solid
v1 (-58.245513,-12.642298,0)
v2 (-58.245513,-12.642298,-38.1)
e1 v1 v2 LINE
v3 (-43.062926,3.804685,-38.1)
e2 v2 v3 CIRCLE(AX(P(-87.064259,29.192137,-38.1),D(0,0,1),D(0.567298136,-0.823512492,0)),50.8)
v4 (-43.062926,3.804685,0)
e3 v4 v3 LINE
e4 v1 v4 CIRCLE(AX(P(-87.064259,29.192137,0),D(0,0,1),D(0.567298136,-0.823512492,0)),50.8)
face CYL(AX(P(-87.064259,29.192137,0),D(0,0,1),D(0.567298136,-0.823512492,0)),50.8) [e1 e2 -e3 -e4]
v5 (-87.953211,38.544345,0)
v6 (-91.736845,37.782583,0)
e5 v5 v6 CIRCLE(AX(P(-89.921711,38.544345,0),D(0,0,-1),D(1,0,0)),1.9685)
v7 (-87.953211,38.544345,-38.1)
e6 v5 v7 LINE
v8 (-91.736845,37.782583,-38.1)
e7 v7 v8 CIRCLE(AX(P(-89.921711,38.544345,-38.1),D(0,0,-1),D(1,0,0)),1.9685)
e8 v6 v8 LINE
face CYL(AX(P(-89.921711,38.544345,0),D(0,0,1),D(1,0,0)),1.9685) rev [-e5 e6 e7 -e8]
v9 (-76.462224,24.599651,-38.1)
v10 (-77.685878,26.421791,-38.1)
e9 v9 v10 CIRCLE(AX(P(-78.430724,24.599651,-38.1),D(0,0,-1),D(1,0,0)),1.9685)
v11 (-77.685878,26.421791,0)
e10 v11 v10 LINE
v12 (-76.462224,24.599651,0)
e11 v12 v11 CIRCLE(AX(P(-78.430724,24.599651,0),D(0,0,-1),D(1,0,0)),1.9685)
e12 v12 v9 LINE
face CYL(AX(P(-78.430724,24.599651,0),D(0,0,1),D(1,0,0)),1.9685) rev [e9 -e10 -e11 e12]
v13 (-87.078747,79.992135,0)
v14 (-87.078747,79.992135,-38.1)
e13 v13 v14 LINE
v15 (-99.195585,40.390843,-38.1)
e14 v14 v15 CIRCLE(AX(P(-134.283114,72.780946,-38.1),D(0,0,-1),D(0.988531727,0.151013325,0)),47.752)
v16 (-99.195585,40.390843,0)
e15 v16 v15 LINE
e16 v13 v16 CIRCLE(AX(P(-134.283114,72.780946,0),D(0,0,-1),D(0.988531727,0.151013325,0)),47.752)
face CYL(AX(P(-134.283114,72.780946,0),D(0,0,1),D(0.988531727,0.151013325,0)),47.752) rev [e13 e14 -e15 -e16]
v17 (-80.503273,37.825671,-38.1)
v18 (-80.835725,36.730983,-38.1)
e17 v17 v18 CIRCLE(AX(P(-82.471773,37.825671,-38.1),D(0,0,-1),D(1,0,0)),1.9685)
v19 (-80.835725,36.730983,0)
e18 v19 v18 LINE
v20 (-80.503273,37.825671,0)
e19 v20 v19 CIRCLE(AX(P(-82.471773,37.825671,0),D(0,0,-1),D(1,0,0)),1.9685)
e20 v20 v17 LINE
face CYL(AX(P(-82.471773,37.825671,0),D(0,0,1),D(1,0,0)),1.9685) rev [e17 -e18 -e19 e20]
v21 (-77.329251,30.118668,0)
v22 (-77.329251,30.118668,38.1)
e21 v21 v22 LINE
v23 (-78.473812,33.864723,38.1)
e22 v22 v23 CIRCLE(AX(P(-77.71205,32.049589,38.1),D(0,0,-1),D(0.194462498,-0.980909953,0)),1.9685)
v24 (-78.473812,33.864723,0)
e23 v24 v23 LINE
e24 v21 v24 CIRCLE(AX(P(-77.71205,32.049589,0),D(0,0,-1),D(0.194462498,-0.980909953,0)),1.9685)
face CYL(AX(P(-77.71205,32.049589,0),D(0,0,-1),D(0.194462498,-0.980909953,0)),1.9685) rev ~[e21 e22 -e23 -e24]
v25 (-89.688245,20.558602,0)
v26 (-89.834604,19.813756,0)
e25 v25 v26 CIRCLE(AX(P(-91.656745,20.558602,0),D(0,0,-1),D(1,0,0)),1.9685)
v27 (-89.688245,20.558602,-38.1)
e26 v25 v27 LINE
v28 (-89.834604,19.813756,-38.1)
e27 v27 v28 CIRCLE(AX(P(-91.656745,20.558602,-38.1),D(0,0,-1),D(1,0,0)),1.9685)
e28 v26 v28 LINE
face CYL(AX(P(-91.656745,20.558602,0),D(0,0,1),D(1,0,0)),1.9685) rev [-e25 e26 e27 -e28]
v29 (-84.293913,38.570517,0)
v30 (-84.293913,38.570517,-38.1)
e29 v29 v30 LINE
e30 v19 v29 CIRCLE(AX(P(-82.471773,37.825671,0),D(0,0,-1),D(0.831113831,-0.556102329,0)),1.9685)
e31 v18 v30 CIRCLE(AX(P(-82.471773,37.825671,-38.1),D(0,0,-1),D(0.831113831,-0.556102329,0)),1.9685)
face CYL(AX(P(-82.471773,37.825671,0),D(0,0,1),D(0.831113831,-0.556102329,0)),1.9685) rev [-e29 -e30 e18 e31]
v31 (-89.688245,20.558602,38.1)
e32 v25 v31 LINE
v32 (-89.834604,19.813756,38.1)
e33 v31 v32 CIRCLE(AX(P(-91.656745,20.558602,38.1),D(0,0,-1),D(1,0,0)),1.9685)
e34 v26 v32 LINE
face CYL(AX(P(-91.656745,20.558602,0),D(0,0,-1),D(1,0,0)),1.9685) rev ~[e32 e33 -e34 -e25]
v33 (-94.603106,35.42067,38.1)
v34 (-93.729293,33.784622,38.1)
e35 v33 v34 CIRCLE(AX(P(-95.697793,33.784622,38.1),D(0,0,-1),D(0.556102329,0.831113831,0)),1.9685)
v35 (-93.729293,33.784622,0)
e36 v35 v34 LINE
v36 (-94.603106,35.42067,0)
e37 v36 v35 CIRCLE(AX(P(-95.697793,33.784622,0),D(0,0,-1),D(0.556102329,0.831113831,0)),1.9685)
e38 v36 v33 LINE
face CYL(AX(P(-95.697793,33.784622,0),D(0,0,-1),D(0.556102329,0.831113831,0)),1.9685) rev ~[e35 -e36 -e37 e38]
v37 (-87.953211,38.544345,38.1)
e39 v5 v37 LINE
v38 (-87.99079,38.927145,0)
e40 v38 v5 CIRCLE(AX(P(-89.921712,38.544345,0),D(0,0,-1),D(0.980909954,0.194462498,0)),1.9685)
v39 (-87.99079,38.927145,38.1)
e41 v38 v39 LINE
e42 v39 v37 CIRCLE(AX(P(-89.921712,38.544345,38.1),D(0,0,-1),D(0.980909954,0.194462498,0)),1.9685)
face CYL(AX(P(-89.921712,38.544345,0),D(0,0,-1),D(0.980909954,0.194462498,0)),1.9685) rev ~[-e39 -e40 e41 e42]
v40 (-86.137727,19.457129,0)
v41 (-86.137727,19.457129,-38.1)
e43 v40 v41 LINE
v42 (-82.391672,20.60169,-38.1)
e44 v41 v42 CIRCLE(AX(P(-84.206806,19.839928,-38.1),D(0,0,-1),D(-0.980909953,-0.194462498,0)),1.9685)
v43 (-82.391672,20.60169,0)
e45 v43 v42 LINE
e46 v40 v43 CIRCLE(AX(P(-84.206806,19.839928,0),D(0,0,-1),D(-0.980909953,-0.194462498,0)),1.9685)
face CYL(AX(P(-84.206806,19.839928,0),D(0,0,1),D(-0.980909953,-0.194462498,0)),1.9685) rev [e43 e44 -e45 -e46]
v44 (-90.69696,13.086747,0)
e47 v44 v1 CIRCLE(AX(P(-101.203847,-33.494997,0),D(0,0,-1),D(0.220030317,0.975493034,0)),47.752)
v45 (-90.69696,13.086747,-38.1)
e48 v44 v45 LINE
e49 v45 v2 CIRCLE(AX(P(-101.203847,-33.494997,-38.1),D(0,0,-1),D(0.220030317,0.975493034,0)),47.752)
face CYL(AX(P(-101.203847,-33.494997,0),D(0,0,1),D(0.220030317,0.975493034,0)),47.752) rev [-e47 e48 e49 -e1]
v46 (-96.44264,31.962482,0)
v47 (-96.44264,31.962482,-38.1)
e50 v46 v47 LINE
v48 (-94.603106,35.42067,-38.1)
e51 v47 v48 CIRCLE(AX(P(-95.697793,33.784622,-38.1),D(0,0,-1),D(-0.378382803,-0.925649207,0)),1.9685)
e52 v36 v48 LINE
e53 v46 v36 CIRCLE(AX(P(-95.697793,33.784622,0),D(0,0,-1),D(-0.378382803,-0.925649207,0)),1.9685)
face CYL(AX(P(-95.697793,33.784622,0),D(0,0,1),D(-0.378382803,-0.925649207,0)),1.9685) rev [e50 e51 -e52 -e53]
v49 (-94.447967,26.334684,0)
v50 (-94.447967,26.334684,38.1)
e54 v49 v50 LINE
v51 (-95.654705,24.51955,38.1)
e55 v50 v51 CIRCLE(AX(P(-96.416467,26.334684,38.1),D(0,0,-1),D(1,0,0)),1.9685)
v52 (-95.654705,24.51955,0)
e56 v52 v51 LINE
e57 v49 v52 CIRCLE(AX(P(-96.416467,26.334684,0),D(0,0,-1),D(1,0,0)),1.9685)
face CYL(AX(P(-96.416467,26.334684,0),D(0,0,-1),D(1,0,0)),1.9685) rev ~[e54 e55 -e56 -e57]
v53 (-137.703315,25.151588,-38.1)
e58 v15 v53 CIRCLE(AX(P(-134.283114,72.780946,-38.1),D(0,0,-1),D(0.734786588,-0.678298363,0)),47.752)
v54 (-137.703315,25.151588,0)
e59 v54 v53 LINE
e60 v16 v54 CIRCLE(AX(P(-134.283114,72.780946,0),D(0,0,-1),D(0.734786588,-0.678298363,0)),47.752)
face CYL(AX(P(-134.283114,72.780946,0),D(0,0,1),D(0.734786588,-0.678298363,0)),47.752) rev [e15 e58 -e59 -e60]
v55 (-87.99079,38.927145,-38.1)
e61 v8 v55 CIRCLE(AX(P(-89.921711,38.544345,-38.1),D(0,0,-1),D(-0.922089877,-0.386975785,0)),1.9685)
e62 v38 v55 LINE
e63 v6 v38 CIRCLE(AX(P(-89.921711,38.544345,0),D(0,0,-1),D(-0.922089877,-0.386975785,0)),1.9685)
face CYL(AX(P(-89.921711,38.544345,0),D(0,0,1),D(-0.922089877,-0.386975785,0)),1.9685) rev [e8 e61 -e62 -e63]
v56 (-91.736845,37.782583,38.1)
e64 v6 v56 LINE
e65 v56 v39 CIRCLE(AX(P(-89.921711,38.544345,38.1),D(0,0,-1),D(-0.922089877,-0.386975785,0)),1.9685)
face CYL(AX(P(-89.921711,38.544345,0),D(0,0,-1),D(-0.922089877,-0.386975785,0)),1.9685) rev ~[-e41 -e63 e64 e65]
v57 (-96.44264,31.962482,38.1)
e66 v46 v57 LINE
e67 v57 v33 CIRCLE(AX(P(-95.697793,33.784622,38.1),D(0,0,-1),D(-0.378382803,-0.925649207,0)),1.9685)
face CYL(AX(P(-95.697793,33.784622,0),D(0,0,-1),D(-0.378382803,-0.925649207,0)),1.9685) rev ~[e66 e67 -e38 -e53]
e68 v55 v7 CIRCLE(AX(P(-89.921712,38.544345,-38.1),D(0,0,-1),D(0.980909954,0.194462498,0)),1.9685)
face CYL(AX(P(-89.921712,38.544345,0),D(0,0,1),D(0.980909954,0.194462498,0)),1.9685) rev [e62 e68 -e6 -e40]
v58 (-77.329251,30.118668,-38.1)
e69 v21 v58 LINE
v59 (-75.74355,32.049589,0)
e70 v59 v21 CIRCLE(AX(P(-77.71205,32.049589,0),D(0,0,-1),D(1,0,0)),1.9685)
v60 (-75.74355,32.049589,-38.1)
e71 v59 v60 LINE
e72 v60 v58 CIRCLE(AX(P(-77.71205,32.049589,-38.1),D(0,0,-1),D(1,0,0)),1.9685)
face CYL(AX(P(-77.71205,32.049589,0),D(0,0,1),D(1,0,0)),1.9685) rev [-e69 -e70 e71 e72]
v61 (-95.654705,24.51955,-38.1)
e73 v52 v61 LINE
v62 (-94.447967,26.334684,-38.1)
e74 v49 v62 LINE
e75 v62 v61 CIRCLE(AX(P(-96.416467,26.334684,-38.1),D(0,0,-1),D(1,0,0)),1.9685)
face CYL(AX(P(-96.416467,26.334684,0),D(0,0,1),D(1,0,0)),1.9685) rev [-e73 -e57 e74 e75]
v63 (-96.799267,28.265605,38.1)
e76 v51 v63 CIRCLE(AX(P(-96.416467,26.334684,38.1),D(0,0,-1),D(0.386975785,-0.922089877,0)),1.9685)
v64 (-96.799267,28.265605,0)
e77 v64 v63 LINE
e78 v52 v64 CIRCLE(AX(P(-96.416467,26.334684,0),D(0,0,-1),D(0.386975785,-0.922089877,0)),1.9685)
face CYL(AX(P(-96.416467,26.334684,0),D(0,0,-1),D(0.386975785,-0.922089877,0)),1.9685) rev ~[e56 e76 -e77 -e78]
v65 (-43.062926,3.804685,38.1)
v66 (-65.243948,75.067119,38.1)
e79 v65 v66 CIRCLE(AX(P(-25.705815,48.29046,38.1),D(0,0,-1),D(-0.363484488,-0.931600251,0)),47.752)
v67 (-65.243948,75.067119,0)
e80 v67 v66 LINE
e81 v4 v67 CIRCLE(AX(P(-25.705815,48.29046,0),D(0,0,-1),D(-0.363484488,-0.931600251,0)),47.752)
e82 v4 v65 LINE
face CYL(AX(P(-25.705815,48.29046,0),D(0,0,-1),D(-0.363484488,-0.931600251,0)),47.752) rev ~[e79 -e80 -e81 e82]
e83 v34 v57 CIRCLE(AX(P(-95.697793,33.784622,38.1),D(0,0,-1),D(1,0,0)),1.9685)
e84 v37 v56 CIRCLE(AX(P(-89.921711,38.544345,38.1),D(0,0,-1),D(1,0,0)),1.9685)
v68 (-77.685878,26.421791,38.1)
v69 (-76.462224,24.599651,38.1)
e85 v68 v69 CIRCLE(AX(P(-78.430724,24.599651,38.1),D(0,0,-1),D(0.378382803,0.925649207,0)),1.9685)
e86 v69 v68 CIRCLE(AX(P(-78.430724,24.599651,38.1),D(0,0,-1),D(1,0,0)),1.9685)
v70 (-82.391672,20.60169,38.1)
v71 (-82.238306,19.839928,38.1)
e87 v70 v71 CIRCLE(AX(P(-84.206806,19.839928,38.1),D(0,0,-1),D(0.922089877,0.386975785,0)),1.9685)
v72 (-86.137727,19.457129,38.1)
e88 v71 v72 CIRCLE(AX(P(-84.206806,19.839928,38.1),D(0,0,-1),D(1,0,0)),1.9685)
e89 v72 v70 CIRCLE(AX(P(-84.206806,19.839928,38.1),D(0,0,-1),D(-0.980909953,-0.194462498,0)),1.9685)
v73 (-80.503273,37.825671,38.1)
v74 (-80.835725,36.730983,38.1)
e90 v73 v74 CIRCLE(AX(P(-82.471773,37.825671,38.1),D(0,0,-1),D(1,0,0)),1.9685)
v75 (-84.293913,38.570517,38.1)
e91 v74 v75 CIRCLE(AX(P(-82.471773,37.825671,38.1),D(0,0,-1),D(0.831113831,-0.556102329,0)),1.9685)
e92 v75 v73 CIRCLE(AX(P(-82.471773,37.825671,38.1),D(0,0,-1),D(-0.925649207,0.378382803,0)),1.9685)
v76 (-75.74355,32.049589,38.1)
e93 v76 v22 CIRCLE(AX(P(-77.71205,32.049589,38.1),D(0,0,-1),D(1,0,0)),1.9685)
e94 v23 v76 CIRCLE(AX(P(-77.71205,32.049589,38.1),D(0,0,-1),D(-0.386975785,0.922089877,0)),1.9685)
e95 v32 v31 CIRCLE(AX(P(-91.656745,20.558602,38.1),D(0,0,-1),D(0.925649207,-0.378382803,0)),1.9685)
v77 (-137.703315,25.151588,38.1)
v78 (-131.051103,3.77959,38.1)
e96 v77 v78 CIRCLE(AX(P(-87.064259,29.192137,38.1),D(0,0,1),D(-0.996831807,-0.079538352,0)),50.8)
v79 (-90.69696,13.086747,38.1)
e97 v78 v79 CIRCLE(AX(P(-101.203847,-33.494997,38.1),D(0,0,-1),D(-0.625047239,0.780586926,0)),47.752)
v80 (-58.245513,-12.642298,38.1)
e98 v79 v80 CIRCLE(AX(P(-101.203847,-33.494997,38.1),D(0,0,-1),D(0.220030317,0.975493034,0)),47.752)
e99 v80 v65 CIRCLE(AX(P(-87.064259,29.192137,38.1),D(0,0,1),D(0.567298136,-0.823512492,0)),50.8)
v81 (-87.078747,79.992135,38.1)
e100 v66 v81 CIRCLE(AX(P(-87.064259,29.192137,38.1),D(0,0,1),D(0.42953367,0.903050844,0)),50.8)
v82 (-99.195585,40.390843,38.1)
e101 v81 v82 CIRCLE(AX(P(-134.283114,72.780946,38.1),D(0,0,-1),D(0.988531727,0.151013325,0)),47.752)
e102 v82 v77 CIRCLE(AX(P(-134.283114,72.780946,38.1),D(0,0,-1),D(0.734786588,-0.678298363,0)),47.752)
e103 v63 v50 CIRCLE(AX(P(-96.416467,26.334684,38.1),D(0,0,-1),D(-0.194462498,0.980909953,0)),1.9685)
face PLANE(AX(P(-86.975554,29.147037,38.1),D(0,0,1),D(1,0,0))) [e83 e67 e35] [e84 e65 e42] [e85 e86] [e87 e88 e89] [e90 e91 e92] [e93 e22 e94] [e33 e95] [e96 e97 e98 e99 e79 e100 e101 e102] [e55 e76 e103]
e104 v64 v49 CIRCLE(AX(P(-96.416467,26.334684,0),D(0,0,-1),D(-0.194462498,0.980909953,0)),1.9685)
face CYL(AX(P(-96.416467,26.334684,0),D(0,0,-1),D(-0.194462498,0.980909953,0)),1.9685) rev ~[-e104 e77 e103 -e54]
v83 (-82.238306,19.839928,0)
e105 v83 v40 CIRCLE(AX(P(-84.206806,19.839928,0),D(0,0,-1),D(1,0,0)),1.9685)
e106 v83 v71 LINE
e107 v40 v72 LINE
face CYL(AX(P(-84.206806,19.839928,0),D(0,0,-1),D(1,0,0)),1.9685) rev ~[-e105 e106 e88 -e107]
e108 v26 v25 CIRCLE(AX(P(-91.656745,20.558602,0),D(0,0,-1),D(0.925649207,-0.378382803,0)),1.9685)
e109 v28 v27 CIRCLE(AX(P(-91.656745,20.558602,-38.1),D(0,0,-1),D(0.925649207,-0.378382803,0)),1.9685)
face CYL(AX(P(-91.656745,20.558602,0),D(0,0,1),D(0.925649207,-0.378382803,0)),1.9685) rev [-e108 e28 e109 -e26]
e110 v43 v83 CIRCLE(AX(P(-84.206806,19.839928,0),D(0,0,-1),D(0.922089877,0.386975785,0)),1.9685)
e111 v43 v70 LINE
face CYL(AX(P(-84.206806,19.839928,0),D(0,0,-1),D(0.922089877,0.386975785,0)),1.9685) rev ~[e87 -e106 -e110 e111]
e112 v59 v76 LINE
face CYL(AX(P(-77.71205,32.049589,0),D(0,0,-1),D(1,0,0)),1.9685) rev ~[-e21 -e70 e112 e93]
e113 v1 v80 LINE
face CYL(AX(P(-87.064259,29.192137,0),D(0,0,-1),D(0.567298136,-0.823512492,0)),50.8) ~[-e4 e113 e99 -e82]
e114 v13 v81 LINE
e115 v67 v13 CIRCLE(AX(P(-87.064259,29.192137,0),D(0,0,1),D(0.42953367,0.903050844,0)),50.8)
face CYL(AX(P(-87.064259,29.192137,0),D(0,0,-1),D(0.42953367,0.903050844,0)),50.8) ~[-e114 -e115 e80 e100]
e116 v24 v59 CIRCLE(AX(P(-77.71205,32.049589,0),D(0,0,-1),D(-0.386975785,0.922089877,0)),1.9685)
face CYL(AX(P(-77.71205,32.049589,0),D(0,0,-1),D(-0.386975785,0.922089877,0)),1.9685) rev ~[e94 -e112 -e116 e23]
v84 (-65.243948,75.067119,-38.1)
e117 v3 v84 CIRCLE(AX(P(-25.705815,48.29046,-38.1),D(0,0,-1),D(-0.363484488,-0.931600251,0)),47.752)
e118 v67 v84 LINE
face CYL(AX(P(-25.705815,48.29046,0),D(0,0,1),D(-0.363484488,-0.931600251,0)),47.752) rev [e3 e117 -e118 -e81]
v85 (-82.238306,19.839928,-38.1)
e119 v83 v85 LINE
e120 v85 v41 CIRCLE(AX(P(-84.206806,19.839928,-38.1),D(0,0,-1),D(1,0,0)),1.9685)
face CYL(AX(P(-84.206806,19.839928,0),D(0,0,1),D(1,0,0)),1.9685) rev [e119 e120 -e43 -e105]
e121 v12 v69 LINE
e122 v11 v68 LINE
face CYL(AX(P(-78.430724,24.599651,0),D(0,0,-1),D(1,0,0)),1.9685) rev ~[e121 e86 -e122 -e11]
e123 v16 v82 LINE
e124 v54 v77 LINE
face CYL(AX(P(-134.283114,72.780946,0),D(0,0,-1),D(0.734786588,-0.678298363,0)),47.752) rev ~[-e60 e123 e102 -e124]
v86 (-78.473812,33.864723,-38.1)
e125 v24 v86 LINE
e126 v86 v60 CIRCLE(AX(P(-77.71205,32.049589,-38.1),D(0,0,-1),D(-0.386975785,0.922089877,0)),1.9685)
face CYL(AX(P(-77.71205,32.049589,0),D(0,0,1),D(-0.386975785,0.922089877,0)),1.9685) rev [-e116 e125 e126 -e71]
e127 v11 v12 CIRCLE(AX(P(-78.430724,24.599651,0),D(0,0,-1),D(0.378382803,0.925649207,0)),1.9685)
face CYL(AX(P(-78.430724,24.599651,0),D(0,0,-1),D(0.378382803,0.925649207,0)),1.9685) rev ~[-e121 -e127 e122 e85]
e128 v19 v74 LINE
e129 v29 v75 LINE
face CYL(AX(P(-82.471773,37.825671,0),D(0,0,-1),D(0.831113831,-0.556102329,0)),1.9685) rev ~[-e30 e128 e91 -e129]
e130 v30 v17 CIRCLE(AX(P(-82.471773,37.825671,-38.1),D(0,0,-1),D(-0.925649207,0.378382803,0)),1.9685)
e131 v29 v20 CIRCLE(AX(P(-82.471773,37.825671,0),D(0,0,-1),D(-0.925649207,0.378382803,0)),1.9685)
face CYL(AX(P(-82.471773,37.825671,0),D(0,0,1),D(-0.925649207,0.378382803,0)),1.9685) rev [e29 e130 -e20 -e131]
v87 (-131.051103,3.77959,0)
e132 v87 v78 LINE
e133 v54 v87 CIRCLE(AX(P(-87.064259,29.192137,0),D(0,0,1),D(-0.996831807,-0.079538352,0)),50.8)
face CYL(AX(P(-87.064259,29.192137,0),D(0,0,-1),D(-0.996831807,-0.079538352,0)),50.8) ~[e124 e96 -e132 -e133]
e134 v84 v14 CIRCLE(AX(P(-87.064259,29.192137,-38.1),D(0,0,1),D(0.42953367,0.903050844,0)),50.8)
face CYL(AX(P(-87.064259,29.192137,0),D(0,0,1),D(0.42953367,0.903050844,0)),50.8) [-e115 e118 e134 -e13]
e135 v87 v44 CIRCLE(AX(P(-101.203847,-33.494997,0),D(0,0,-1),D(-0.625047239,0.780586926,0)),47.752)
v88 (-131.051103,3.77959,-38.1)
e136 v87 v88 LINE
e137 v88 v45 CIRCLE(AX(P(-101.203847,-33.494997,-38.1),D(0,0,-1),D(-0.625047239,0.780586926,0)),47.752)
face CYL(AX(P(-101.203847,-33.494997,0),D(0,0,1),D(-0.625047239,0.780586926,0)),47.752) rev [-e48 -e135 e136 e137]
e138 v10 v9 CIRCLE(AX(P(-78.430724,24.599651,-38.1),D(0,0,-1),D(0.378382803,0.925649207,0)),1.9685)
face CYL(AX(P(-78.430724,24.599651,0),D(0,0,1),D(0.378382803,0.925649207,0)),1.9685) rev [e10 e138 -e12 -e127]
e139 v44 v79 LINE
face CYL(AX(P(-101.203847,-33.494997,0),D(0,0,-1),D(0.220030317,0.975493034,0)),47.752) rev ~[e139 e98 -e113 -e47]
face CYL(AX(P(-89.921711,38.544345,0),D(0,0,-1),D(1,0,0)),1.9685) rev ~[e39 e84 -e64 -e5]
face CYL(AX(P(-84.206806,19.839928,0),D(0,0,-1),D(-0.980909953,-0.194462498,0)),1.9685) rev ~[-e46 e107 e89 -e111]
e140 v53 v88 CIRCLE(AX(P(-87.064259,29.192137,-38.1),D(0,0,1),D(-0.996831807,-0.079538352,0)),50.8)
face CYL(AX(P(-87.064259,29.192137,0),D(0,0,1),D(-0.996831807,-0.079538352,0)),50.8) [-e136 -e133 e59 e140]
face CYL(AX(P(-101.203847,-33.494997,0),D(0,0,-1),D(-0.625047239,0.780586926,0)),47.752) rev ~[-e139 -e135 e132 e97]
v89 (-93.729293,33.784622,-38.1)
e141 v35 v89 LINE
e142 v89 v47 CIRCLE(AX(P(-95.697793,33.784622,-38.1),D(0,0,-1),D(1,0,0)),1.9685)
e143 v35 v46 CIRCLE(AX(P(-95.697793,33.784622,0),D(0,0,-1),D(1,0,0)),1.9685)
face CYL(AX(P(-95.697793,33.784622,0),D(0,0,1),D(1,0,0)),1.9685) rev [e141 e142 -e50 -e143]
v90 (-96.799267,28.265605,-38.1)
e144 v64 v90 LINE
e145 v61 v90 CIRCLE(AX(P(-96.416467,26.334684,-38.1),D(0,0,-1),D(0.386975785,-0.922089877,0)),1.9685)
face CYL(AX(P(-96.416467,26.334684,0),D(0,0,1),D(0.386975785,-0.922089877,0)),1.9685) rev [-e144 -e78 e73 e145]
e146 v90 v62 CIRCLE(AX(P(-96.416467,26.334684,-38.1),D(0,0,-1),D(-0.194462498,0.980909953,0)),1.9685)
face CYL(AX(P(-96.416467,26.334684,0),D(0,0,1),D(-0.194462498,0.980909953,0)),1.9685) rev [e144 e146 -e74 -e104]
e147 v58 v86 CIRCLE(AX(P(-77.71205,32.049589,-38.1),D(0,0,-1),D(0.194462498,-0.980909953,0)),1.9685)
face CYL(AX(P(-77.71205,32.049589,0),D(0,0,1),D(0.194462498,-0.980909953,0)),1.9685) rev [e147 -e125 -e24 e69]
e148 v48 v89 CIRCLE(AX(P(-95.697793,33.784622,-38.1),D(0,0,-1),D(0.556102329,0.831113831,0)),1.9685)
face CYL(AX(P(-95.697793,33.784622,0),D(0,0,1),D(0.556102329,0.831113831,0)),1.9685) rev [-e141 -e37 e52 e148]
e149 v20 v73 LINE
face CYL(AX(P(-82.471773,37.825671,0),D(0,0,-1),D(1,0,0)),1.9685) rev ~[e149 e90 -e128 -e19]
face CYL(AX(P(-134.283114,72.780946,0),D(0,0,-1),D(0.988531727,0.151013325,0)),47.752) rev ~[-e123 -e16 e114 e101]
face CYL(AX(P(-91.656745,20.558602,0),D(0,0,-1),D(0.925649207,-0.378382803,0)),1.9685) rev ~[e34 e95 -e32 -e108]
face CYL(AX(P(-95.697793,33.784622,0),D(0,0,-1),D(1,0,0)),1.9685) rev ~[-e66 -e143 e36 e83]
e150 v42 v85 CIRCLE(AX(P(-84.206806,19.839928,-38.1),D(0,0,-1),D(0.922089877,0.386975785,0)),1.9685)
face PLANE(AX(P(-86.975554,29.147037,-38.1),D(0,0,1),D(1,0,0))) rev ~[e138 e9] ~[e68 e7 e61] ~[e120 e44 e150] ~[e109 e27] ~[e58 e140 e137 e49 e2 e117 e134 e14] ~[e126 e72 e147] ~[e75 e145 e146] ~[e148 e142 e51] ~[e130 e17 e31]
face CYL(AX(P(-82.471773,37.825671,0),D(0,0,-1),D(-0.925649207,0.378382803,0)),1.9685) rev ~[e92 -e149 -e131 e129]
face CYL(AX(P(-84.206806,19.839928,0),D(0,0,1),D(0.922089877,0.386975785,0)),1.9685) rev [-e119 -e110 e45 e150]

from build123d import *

# Parameters (mm, degrees)
F1_DEPTH      = 38.1
F1_DEPTH_BACK = 38.1


with BuildPart() as f1:
    # F0 (on Top) → F1 (new body, two sides)
    with BuildSketch(Plane.XY) as f1_sk:
        with BuildLine():
            ThreePointArc((-90.6969597738, 13.086746717), (-76.7539676292, 16.2972540142), (-70.5542587543, 29.1921366006))
            ThreePointArc((-70.5542587543, 29.1921366006), (-70.7418172824, 31.673669272), (-71.3002314253, 34.0988200397))
            ThreePointArc((-71.3002314253, 34.0988200397), (-83.4315577445, 45.2975264864), (-99.1955851313, 40.3908427907))
            ThreePointArc((-99.1955851313, 40.3908427907), (-102.828286017, 24.2854529488), (-90.6969597738, 13.086746717))
        make_face()
        with BuildLine():
            ThreePointArc((-77.3292507738, 30.1186681005), (-77.2962629506, 29.6559242455), (-77.2852587543, 29.1921366006))
            ThreePointArc((-77.2852587543, 29.1921366006), (-77.3859317475, 27.7925554665), (-77.6858779078, 26.4217911893))
            ThreePointArc((-77.6858779078, 26.4217911893), (-76.7965239356, 25.6970936215), (-76.4622244556, 24.5996507254))
            ThreePointArc((-76.4622244556, 24.5996507254), (-77.5033356386, 22.8632918247), (-79.5254118898, 22.9636031493))
            ThreePointArc((-79.5254118898, 22.9636031493), (-80.8453813803, 21.6453223583), (-82.3916720877, 20.6016898809))
            ThreePointArc((-82.3916720877, 20.6016898809), (-82.2770283841, 20.2284516132), (-82.2383060109, 19.8399280476))
            ThreePointArc((-82.2383060109, 19.8399280476), (-84.0144862482, 17.8808452625), (-86.1377272544, 19.4571286201))
            ThreePointArc((-86.1377272544, 19.4571286201), (-88.0032519189, 19.458322711), (-89.8346041656, 19.8137557541))
            ThreePointArc((-89.8346041656, 19.8137557541), (-92.5812060719, 18.82068306), (-93.2927922056, 21.6532897362))
            ThreePointArc((-93.2927922056, 21.6532897362), (-94.6110729966, 22.9732592267), (-95.6547054739, 24.5195499341))
            ThreePointArc((-95.6547054739, 24.5195499341), (-98.2990547433, 25.759482331), (-96.7992667347, 28.2656051007))
            ThreePointArc((-96.7992667347, 28.2656051007), (-96.7980726438, 30.1311297652), (-96.4426396008, 31.9624820119))
            ThreePointArc((-96.4426396008, 31.9624820119), (-97.4357122948, 34.7090839182), (-94.6031056187, 35.420670052))
            ThreePointArc((-94.6031056187, 35.420670052), (-93.2831361282, 36.7389508429), (-91.7368454208, 37.7825833203))
            ThreePointArc((-91.7368454208, 37.7825833203), (-90.4969130238, 40.4269325897), (-87.9907902541, 38.9271445811))
            ThreePointArc((-87.9907902541, 38.9271445811), (-86.1252655897, 38.9259504902), (-84.2939133429, 38.5705174471))
            ThreePointArc((-84.2939133429, 38.5705174471), (-82.0922279233, 39.7572344826), (-80.503272879, 37.8256708993))
            ThreePointArc((-80.503272879, 37.8256708993), (-80.5882188045, 37.2536426673), (-80.8357253029, 36.7309834651))
            ThreePointArc((-80.8357253029, 36.7309834651), (-79.517444512, 35.4110139746), (-78.4738120346, 33.8647232672))
            ThreePointArc((-78.4738120346, 33.8647232672), (-76.622219003, 33.688875838), (-75.7435502012, 32.0495893439))
            ThreePointArc((-75.7435502012, 32.0495893439), (-76.1907788706, 30.8002992301), (-77.3292507738, 30.1186681005))
        make_face(mode=Mode.SUBTRACT)
        with BuildLine():
            ThreePointArc((-71.3002314253, 34.0988200397), (-70.7418172824, 31.673669272), (-70.5542587543, 29.1921366006))
            ThreePointArc((-70.5542587543, 29.1921366006), (-76.7539676292, 16.2972540142), (-90.6969597738, 13.086746717))
            ThreePointArc((-90.6969597738, 13.086746717), (-71.5368890892, 3.9232487058), (-58.2455134206, -12.6422979885))
            ThreePointArc((-58.2455134206, -12.6422979885), (-49.7371002236, -5.2654204228), (-43.0629257789, 3.804685047))
            ThreePointArc((-43.0629257789, 3.804685047), (-60.6365657041, 15.7313428229), (-71.3002314253, 34.0988200397))
        make_face()
        with BuildLine():
            ThreePointArc((-99.1955851313, 40.3908427907), (-83.4315577445, 45.2975264864), (-71.3002314253, 34.0988200397))
            ThreePointArc((-71.3002314253, 34.0988200397), (-72.9444447549, 55.2736770618), (-65.2439483139, 75.0671194593))
            ThreePointArc((-65.2439483139, 75.0671194593), (-75.8867182849, 78.747182651), (-87.0787472591, 79.9921345345))
            ThreePointArc((-87.0787472591, 79.9921345345), (-88.6207159571, 58.8095868891), (-99.1955851313, 40.3908427907))
        make_face()
        with BuildLine():
            ThreePointArc((-131.0511032248, 3.7795902204), (-111.9354945769, 13.0354799606), (-90.6969597738, 13.086746717))
            ThreePointArc((-90.6969597738, 13.086746717), (-102.828286017, 24.2854529488), (-99.1955851313, 40.3908427907))
            ThreePointArc((-99.1955851313, 40.3908427907), (-116.7114425044, 28.3794839343), (-137.7033145282, 25.151588331))
            ThreePointArc((-137.7033145282, 25.151588331), (-135.5689577543, 14.0946475737), (-131.0511032248, 3.7795902204))
        make_face()
        with BuildLine():
            ThreePointArc((-77.6858779078, 26.4217911893), (-77.3859317475, 27.7925554665), (-77.2852587543, 29.1921366006))
            ThreePointArc((-77.2852587543, 29.1921366006), (-77.2962629506, 29.6559242455), (-77.3292507738, 30.1186681005))
            ThreePointArc((-77.3292507738, 30.1186681005), (-79.5946376372, 31.4743878177), (-78.4738120346, 33.8647232672))
            ThreePointArc((-78.4738120346, 33.8647232672), (-79.517444512, 35.4110139746), (-80.8357253029, 36.7309834651))
            ThreePointArc((-80.8357253029, 36.7309834651), (-83.3962343215, 36.0877516573), (-84.2939133429, 38.5705174471))
            ThreePointArc((-84.2939133429, 38.5705174471), (-86.1252655897, 38.9259504902), (-87.9907902541, 38.9271445811))
            ThreePointArc((-87.9907902541, 38.9271445811), (-87.9626287125, 38.7366649164), (-87.9532114976, 38.5443451537))
            ThreePointArc((-87.9532114976, 38.5443451537), (-89.5331879319, 36.6145675269), (-91.7368454208, 37.7825833203))
            ThreePointArc((-91.7368454208, 37.7825833203), (-93.2831361282, 36.7389508429), (-94.6031056187, 35.420670052))
            ThreePointArc((-94.6031056187, 35.420670052), (-93.9614341522, 34.7120112928), (-93.7292930529, 33.7846224758))
            ThreePointArc((-93.7292930529, 33.7846224758), (-94.6003501568, 32.1504219558), (-96.4426396008, 31.9624820119))
            ThreePointArc((-96.4426396008, 31.9624820119), (-96.7980726438, 30.1311297652), (-96.7992667347, 28.2656051007))
            ThreePointArc((-96.7992667347, 28.2656051007), (-95.1671771935, 27.8559551879), (-94.4479673073, 26.3346838573))
            ThreePointArc((-94.4479673073, 26.3346838573), (-94.7771808133, 25.2448526591), (-95.6547054739, 24.5195499341))
            ThreePointArc((-95.6547054739, 24.5195499341), (-94.6110729966, 22.9732592267), (-93.2927922056, 21.6532897362))
            ThreePointArc((-93.2927922056, 21.6532897362), (-91.0847163975, 22.4421563765), (-89.6882446295, 20.558602302))
            ThreePointArc((-89.6882446295, 20.558602302), (-89.7251810461, 20.1790573462), (-89.8346041656, 19.8137557541))
            ThreePointArc((-89.8346041656, 19.8137557541), (-88.0032519189, 19.458322711), (-86.1377272544, 19.4571286201))
            ThreePointArc((-86.1377272544, 19.4571286201), (-84.7820075372, 21.7225154836), (-82.3916720877, 20.6016898809))
            ThreePointArc((-82.3916720877, 20.6016898809), (-80.8453813803, 21.6453223583), (-79.5254118898, 22.9636031493))
            ThreePointArc((-79.5254118898, 22.9636031493), (-80.1686436975, 25.5241121678), (-77.6858779078, 26.4217911893))
        make_face()
    extrude(amount=F1_DEPTH)
    extrude(f1_sk.sketch, amount=-F1_DEPTH_BACK)


solid = f1.part
